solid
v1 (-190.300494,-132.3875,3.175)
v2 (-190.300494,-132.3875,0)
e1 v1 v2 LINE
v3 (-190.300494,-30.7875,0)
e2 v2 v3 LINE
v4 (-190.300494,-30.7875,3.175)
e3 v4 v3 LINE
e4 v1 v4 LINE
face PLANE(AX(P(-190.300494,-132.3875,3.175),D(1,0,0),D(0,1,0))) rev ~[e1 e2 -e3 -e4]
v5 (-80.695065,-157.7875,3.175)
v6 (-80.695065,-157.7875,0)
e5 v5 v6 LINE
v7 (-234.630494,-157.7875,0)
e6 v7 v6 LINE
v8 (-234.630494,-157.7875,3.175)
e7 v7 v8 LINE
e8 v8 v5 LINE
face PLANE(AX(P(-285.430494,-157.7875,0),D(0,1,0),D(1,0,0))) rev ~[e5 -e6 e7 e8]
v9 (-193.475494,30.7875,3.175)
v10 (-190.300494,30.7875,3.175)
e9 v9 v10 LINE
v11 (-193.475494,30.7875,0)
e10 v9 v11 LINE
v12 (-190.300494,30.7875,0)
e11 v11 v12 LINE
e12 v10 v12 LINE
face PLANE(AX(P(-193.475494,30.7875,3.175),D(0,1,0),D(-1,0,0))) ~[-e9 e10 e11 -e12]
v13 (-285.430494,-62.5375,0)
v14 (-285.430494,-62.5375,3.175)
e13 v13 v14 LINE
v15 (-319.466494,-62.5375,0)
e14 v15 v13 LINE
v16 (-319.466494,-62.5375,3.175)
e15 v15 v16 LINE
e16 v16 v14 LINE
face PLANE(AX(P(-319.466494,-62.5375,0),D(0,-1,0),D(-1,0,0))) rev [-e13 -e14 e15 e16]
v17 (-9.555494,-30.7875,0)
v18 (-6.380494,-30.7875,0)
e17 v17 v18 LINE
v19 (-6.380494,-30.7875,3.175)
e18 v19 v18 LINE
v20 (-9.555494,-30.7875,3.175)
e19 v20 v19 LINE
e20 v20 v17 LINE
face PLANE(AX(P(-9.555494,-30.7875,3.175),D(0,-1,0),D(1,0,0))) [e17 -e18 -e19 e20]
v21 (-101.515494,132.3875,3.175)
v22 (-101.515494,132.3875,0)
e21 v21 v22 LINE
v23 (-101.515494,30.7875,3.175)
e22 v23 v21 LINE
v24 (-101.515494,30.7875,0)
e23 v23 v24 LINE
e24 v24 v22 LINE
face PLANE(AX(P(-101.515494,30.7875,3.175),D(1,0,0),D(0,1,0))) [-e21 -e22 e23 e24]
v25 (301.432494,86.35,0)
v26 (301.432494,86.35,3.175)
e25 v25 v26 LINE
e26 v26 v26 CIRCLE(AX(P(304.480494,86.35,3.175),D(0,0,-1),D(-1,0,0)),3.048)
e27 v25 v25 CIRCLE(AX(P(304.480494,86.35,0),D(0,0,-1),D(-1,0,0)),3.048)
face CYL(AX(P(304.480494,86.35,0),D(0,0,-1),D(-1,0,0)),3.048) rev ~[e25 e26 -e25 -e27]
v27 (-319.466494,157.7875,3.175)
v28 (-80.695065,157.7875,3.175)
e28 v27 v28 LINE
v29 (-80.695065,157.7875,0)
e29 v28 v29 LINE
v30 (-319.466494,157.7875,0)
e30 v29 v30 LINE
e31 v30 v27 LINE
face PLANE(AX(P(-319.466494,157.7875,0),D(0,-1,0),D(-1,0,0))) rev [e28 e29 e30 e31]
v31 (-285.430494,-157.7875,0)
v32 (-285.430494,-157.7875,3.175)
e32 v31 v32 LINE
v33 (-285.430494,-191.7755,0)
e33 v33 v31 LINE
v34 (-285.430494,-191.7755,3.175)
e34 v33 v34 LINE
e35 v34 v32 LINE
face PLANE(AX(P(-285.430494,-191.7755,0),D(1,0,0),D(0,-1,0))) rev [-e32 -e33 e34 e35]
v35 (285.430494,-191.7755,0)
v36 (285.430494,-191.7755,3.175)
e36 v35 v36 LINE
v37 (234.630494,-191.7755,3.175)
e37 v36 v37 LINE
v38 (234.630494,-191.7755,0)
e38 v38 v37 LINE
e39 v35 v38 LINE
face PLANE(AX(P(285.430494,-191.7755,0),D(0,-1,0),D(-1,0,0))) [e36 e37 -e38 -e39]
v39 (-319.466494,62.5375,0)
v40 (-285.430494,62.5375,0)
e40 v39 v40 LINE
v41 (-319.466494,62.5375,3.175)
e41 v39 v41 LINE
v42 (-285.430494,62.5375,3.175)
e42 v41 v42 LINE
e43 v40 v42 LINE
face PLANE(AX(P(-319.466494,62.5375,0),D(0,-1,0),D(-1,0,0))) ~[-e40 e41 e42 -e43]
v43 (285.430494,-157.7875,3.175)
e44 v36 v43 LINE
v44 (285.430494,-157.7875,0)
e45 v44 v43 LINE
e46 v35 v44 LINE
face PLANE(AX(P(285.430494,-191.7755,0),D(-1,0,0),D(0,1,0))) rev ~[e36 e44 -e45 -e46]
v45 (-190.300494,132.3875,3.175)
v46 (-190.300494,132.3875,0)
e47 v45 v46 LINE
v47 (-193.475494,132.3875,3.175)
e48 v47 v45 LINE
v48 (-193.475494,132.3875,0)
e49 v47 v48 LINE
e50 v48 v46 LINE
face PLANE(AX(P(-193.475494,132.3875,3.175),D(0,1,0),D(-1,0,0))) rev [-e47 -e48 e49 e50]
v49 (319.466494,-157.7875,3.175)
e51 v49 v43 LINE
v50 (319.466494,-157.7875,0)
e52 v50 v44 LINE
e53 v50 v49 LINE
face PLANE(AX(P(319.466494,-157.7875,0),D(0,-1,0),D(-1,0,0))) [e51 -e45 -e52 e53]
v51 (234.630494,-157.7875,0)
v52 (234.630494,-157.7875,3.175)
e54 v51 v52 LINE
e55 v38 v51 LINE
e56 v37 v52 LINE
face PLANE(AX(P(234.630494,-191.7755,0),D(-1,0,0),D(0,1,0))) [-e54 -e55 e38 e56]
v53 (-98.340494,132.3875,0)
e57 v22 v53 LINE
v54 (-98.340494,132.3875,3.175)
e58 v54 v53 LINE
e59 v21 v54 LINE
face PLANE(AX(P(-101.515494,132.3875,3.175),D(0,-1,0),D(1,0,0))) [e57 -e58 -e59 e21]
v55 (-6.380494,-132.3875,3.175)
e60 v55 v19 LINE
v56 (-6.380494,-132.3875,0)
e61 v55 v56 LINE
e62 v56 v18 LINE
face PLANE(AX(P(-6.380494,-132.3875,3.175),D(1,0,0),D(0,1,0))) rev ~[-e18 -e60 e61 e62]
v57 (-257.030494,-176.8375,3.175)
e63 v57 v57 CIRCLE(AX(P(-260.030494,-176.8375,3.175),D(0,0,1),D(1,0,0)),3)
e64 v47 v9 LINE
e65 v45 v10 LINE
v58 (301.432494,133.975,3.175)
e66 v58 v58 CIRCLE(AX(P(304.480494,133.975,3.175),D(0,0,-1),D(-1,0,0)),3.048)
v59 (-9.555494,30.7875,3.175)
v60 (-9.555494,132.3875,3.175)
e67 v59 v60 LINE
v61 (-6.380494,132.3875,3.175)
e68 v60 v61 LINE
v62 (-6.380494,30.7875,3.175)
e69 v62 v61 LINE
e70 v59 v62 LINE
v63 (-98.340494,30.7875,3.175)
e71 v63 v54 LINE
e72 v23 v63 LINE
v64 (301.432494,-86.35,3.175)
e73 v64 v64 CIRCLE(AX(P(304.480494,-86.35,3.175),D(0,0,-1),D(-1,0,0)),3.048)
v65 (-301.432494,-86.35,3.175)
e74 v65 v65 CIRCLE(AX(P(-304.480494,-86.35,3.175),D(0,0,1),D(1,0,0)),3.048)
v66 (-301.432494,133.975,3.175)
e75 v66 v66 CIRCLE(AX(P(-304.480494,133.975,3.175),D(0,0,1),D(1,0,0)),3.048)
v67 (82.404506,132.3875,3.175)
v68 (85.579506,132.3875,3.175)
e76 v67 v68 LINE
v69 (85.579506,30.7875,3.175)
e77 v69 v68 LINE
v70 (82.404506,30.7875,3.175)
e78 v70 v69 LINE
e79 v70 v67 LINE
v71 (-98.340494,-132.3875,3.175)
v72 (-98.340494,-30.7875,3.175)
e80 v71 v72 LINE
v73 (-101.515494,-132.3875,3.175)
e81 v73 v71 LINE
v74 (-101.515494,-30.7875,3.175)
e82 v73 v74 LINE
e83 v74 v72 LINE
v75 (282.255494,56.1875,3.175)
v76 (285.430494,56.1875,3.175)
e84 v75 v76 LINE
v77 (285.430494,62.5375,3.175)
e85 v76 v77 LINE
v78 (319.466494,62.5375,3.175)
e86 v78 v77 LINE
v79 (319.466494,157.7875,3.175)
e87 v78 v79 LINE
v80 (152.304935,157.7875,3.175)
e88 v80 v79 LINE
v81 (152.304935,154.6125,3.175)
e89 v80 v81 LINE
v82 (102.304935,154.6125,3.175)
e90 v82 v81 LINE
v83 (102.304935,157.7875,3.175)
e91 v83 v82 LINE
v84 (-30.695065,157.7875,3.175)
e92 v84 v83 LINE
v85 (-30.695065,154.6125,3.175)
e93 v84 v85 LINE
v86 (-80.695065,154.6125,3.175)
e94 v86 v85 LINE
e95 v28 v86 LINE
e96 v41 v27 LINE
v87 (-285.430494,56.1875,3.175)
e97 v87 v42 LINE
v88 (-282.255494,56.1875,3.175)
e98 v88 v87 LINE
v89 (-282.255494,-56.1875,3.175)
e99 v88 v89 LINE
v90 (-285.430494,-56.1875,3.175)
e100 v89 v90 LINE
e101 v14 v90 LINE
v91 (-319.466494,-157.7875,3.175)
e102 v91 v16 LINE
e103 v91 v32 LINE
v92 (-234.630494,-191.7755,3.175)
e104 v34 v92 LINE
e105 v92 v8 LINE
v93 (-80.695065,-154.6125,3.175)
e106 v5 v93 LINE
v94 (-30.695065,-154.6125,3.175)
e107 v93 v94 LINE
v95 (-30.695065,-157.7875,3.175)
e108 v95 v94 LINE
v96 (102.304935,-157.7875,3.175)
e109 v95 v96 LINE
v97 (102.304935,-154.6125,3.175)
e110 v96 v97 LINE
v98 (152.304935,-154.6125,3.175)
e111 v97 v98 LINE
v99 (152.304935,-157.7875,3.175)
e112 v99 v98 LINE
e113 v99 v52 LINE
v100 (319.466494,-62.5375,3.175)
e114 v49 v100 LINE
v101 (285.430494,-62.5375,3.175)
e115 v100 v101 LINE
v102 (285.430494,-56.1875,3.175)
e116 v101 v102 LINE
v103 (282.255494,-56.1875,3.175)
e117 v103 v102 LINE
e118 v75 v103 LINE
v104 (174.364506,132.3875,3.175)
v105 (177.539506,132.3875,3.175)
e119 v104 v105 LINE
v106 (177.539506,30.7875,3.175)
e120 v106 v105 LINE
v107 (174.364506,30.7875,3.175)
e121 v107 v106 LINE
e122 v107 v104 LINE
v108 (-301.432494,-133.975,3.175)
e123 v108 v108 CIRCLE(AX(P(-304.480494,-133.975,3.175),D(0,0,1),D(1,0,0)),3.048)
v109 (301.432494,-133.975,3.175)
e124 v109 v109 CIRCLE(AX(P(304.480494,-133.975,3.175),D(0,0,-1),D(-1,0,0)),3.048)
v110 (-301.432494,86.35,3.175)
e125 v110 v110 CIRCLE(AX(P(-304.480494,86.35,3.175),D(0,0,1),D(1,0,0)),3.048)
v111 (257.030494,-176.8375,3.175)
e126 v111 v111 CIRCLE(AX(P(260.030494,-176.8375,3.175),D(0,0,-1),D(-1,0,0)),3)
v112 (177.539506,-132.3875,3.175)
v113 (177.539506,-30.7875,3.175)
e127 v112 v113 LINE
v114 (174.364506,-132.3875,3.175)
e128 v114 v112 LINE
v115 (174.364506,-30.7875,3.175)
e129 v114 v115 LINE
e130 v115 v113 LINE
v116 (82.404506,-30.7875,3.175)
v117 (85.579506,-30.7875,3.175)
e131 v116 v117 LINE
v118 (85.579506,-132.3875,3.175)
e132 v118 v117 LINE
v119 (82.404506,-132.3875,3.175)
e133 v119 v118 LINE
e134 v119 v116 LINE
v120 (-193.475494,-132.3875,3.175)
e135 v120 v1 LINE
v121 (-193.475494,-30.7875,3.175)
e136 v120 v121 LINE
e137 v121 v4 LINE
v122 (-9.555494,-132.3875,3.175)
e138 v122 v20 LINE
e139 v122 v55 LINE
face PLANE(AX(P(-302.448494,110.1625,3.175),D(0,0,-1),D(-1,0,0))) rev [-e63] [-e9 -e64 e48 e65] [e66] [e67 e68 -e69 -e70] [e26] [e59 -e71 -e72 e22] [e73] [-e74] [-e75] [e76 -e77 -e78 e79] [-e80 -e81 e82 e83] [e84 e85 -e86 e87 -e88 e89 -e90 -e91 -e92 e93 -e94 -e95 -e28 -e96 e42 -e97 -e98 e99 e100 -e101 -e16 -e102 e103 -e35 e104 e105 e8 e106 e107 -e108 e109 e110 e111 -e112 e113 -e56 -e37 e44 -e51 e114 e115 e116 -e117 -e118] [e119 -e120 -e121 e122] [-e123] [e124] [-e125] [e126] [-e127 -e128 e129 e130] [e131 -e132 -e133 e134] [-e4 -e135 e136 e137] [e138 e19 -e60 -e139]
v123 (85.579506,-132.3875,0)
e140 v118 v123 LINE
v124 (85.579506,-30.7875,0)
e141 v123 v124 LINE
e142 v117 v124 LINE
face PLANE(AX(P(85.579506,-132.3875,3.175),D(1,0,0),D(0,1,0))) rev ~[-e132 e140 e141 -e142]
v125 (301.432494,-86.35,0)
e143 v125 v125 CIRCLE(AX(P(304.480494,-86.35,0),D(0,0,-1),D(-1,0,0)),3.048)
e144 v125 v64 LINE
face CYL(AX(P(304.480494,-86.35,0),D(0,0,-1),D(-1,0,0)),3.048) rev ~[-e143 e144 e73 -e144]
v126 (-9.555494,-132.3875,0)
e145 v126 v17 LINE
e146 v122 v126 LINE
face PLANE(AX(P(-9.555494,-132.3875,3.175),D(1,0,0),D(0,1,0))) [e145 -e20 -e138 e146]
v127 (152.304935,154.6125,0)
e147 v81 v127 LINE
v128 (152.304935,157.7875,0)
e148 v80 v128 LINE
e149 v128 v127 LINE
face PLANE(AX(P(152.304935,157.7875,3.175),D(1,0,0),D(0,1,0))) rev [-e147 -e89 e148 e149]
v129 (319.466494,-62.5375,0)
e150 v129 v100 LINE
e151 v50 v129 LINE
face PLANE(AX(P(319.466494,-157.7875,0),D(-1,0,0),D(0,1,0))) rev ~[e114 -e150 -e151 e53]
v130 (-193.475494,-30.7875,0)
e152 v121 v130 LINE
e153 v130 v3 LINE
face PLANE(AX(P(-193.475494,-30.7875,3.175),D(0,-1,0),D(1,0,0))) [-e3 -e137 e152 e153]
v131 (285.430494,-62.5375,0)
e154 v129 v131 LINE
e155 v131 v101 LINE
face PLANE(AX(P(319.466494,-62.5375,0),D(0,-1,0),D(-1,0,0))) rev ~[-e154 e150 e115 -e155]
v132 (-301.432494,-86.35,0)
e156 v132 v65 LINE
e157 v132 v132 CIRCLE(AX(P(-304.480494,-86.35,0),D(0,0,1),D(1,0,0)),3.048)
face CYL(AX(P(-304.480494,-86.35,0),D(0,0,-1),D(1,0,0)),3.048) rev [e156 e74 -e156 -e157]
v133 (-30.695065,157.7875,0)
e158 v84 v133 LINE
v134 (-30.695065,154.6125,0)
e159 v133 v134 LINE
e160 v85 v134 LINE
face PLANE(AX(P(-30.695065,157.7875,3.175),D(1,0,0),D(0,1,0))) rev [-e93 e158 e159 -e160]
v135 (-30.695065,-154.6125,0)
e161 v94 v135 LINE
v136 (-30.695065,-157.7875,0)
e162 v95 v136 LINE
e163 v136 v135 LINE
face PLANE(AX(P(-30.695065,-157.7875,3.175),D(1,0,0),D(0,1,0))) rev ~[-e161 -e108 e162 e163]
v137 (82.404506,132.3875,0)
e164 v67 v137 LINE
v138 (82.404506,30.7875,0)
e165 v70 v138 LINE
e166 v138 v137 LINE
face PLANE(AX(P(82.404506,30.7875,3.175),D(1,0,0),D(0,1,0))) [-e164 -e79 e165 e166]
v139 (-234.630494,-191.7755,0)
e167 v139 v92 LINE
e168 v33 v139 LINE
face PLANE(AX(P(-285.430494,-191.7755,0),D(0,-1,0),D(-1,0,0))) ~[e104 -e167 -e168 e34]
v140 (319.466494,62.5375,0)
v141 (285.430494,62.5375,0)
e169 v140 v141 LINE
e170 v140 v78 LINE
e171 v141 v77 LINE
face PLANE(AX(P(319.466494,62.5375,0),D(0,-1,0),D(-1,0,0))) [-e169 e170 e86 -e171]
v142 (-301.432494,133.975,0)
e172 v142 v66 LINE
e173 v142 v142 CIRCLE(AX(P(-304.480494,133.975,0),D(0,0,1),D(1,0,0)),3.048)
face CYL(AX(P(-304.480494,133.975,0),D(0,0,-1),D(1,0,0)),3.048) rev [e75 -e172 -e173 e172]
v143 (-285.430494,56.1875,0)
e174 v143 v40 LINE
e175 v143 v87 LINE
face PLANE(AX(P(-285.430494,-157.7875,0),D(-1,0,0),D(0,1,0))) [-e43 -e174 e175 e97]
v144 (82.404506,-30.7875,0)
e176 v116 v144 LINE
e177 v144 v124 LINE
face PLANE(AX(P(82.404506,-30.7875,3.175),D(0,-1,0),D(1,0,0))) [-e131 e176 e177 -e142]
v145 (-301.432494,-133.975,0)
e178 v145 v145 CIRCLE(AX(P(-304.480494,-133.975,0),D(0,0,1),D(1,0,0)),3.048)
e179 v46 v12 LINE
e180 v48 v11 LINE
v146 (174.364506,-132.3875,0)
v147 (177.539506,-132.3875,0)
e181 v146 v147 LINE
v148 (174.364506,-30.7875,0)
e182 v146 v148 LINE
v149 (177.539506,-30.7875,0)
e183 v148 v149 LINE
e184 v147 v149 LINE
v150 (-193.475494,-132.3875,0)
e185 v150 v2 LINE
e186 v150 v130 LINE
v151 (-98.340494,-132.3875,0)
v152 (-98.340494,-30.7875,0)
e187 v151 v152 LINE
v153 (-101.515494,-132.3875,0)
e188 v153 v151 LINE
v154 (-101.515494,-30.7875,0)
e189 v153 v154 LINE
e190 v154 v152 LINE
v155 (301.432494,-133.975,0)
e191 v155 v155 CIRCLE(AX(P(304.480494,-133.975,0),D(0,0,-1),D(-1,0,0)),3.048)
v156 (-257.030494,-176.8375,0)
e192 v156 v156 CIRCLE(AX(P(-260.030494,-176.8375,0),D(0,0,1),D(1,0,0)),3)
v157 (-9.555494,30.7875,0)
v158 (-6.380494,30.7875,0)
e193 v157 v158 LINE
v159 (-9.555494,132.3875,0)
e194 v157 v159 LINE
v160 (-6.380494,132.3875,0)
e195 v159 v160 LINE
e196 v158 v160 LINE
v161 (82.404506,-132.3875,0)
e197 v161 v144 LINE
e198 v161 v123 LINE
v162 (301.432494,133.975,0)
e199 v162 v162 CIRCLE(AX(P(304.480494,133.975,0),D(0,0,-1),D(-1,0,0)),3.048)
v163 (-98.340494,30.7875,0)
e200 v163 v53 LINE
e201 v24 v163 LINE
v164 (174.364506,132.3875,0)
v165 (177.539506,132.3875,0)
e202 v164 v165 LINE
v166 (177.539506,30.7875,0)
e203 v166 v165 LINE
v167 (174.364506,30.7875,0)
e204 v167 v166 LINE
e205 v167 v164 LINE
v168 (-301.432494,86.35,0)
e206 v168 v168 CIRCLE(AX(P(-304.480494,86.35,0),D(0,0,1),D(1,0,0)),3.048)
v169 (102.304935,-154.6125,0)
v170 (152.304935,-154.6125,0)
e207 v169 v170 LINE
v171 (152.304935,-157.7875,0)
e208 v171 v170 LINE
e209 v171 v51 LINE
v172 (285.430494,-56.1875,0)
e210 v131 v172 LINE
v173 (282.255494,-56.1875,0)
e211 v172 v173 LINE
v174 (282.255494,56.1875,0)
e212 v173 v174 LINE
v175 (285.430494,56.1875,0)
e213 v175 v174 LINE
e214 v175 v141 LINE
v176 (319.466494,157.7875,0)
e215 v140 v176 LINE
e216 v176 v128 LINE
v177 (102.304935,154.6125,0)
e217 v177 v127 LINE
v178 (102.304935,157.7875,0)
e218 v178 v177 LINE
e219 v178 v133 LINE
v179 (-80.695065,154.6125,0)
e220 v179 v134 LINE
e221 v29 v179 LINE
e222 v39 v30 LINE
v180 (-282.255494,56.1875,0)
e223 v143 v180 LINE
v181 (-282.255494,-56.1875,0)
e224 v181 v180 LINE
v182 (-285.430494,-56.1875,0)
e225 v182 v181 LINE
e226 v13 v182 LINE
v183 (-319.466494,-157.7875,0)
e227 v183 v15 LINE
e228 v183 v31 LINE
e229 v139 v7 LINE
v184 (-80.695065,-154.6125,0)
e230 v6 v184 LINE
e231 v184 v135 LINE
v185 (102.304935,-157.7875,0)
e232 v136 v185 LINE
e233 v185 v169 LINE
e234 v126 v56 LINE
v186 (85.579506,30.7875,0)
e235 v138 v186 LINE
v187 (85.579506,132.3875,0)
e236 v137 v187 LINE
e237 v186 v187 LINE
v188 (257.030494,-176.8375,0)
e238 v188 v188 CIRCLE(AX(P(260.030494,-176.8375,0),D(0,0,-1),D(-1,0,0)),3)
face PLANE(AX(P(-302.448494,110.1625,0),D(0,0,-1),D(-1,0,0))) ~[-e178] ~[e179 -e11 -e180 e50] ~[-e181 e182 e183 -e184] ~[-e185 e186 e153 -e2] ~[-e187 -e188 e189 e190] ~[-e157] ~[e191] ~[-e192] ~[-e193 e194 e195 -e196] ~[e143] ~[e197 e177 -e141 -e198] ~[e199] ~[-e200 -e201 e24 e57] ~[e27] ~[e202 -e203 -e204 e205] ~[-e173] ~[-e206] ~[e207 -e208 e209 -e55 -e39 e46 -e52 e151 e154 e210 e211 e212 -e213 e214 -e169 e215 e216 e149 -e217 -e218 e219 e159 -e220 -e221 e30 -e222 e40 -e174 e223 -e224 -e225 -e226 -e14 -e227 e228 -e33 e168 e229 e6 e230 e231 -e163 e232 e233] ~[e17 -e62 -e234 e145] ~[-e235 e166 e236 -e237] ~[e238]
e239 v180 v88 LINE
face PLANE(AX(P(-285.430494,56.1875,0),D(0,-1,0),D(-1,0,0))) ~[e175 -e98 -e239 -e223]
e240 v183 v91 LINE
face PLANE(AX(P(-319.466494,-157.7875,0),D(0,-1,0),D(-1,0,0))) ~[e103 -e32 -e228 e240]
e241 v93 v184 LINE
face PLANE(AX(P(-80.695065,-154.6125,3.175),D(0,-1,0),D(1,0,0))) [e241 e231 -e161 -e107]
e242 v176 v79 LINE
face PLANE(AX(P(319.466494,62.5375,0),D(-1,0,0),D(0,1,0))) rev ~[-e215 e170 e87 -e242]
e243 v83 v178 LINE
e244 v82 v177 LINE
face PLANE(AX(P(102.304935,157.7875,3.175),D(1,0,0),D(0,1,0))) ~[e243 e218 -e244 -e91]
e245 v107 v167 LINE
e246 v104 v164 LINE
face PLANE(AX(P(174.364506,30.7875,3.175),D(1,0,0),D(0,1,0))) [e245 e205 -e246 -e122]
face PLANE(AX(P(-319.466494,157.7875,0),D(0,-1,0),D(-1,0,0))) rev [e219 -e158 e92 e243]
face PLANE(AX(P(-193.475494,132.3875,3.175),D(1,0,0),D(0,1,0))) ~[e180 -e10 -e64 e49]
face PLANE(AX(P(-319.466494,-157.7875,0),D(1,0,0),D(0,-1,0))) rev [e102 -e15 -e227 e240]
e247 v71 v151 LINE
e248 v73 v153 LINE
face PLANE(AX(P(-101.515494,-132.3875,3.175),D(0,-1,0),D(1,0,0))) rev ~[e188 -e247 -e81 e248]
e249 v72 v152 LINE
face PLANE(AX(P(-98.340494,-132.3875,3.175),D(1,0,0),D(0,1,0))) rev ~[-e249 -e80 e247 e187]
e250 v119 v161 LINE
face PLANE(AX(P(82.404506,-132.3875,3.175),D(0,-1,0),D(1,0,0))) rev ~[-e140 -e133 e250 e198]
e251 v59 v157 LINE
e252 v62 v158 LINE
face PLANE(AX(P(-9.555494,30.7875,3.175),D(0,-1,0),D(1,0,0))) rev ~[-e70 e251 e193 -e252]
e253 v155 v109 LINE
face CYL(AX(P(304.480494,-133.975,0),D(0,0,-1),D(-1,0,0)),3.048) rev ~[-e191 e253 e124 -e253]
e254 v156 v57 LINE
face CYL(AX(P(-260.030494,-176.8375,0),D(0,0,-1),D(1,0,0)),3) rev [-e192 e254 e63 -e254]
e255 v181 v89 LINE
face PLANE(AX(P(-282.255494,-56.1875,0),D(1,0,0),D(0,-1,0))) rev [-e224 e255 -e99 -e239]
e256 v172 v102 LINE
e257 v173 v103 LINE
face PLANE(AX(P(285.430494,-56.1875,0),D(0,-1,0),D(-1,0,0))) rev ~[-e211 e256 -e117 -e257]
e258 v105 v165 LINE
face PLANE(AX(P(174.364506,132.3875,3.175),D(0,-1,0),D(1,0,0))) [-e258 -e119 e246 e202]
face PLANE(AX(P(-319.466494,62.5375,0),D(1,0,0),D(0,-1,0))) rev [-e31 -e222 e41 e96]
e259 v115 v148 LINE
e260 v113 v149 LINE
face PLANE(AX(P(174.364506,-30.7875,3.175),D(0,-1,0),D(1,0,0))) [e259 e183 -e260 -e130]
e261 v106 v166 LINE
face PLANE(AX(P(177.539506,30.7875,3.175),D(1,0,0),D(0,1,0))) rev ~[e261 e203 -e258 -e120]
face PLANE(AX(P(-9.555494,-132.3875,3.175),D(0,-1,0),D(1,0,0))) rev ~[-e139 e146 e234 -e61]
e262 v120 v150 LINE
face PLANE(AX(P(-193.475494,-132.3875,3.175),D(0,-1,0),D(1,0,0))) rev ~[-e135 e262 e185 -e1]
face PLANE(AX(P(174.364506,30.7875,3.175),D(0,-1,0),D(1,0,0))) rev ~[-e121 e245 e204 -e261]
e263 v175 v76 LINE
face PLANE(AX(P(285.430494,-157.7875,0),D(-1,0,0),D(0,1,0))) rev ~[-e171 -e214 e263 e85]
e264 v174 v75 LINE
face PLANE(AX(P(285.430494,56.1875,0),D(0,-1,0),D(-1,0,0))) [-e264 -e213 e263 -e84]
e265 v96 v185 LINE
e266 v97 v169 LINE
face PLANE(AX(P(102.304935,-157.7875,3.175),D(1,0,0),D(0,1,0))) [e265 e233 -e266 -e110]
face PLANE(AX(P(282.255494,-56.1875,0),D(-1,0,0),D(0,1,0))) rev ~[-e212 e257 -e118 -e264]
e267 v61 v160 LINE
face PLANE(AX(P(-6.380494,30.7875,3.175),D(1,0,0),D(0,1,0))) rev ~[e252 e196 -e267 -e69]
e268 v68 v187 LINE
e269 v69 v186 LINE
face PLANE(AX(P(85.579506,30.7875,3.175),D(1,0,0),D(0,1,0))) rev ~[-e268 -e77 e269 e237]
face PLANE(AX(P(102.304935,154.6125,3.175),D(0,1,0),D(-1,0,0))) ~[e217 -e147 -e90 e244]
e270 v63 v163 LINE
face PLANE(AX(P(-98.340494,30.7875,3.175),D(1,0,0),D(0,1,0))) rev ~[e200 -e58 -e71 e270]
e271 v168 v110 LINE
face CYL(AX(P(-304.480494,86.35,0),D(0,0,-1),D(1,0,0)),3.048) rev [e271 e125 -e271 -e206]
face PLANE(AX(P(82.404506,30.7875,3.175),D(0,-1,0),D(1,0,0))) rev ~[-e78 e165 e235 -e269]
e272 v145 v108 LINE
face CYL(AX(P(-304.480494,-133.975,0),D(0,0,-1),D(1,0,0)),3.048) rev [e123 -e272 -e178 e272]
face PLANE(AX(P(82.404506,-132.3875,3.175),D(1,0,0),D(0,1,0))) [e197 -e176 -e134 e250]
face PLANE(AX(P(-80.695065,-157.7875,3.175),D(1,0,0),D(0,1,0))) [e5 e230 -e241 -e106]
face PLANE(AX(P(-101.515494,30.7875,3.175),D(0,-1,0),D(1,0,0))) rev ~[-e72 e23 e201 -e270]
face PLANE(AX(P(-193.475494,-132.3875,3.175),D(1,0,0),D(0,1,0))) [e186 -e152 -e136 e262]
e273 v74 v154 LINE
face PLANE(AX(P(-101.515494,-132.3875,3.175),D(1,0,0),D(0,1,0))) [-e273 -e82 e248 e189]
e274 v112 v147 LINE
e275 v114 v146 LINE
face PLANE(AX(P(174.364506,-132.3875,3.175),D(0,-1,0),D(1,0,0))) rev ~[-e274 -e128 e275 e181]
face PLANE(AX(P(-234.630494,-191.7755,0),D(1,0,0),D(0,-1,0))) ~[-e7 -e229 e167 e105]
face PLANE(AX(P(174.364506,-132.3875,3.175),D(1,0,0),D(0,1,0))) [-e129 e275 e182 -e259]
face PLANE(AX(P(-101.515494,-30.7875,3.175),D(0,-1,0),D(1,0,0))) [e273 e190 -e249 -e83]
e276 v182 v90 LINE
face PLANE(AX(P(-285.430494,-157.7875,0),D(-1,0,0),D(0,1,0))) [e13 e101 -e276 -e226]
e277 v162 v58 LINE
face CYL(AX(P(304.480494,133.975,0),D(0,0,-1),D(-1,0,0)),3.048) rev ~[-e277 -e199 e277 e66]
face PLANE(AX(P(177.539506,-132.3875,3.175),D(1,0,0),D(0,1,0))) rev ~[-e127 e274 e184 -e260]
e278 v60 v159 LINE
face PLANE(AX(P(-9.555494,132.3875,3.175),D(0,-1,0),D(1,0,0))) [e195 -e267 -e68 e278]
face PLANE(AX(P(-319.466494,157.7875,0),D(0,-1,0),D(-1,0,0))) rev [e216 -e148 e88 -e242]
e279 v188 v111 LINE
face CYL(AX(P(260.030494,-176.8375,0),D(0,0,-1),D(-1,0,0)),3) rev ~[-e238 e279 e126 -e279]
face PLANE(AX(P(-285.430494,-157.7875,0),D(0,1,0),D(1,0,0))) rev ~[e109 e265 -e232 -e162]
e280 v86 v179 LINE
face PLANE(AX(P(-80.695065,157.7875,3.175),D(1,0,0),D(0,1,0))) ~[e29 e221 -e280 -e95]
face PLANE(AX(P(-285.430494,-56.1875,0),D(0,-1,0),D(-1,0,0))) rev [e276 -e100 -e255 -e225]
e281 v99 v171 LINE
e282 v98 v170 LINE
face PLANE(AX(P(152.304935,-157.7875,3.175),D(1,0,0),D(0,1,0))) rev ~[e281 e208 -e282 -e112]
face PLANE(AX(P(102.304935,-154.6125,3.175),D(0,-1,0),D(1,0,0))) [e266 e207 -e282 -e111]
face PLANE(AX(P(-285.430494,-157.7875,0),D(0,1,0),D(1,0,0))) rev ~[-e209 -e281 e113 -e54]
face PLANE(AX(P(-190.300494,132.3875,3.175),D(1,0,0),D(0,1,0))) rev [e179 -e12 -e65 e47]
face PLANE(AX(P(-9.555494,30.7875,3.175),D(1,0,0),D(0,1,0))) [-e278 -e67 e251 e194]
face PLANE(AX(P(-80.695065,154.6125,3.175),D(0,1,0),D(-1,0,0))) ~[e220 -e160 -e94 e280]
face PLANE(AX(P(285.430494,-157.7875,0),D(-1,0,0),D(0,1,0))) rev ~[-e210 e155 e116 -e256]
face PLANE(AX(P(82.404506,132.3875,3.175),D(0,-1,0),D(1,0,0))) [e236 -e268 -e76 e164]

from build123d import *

# Parameters (mm, degrees)
SKETCH1_W                 = 570.860988324
SKETCH1_H                 = 315.575
BOSS_EXTRUDE1_DEPTH       = 3.175
SKETCH2_W                 = 3.175
SKETCH2_H                 = 101.6
CUT_EXTRUDE1_DEPTH        = 3.175
SKETCH7_W                 = 50
SKETCH7_H                 = 3.175
CUT_EXTRUDE5_DEPTH        = 3.175
LPATTERN2_COUNT           = 5
LPATTERN2_PITCH           = 91.96
LPATTERN2_COPY_1_SKETCH_W = 3.175
LPATTERN2_COPY_1_SKETCH_H = 101.6
LPATTERN2_COPY_1_DEPTH    = 3.175
LPATTERN2_COPY_2_SKETCH_W = 3.175
LPATTERN2_COPY_2_SKETCH_H = 101.6
LPATTERN2_COPY_2_DEPTH    = 3.175
LPATTERN2_COPY_3_SKETCH_W = 3.175
LPATTERN2_COPY_3_SKETCH_H = 101.6
LPATTERN2_COPY_3_DEPTH    = 3.175
LPATTERN2_COPY_4_SKETCH_W = 3.175
LPATTERN2_COPY_4_SKETCH_H = 101.6
LPATTERN2_COPY_4_DEPTH    = 3.175
SKETCH9_W                 = 34.036
SKETCH9_H                 = 95.25
SKETCH9_R                 = 3.048
SKETCH9_W_2               = 50.8
SKETCH9_H_2               = 33.988
SKETCH9_R_2               = 3
BOSS_EXTRUDE3_DEPTH       = 3.175
SKETCH10_W                = 3.175
SKETCH10_H                = 112.375
CUT_EXTRUDE6_DEPTH        = 373.621475384


with BuildPart() as part:
    # Sketch1 → Boss-Extrude1 (new body)
    with BuildSketch(Plane.XY):
        Rectangle(SKETCH1_W, SKETCH1_H)
    extrude(amount=BOSS_EXTRUDE1_DEPTH)

    # Sketch2 → Cut-Extrude1 (cut)
    with BuildSketch(Plane.XY.offset(3.175)):
        with Locations((-191.887994162, -81.5875)):
            Rectangle(SKETCH2_W, SKETCH2_H)
    cut_extrude1 = extrude(amount=-CUT_EXTRUDE1_DEPTH, mode=Mode.SUBTRACT)

    # Sketch7 → Cut-Extrude5 (cut)
    with BuildSketch(Plane.XY.offset(3.175)):
        with Locations((127.304934912, -156.2)):
            Rectangle(SKETCH7_W, SKETCH7_H)
        with Locations((-55.695065088, -156.2)):
            Rectangle(SKETCH7_W, SKETCH7_H)
    cut_extrude5 = extrude(amount=-CUT_EXTRUDE5_DEPTH, mode=Mode.SUBTRACT)

    # Mirror3: Cut-Extrude1 across plane
    add(cut_extrude1.mirror(Plane.ZX), mode=Mode.SUBTRACT)

    # LPattern2: Cut-Extrude1 ×5
    with Locations(*[(i * LPATTERN2_PITCH, 0, 0) for i in range(1, LPATTERN2_COUNT)]):
        add(cut_extrude1, mode=Mode.SUBTRACT)

    # LPattern2 copy 1 sketch → LPattern2 copy 1 (cut)
    with BuildSketch(Plane(origin=(91.96, 0, 3.175), x_dir=(1, 0, 0), z_dir=(0, 0, 1))):
        with Locations((-191.887994162, 81.5875)):
            Rectangle(LPATTERN2_COPY_1_SKETCH_W, LPATTERN2_COPY_1_SKETCH_H)
    extrude(amount=-LPATTERN2_COPY_1_DEPTH, mode=Mode.SUBTRACT)

    # LPattern2 copy 2 sketch → LPattern2 copy 2 (cut)
    with BuildSketch(Plane(origin=(183.92, 0, 3.175), x_dir=(1, 0, 0), z_dir=(0, 0, 1))):
        with Locations((-191.887994162, 81.5875)):
            Rectangle(LPATTERN2_COPY_2_SKETCH_W, LPATTERN2_COPY_2_SKETCH_H)
    extrude(amount=-LPATTERN2_COPY_2_DEPTH, mode=Mode.SUBTRACT)

    # LPattern2 copy 3 sketch → LPattern2 copy 3 (cut)
    with BuildSketch(Plane(origin=(275.88, 0, 3.175), x_dir=(1, 0, 0), z_dir=(0, 0, 1))):
        with Locations((-191.887994162, 81.5875)):
            Rectangle(LPATTERN2_COPY_3_SKETCH_W, LPATTERN2_COPY_3_SKETCH_H)
    extrude(amount=-LPATTERN2_COPY_3_DEPTH, mode=Mode.SUBTRACT)

    # LPattern2 copy 4 sketch → LPattern2 copy 4 (cut)
    with BuildSketch(Plane(origin=(367.84, 0, 3.175), x_dir=(1, 0, 0), z_dir=(0, 0, 1))):
        with Locations((-191.887994162, 81.5875)):
            Rectangle(LPATTERN2_COPY_4_SKETCH_W, LPATTERN2_COPY_4_SKETCH_H)
    extrude(amount=-LPATTERN2_COPY_4_DEPTH, mode=Mode.SUBTRACT)

    # Sketch9 → Boss-Extrude3 (add)
    # profile 1 of 3: a face of its own
    with BuildSketch(Plane(origin=(0, 0, 0), x_dir=(-1, 0, 0), z_dir=(0, 0, -1))):
        with Locations((-302.448494162, 110.1625)):
            Rectangle(SKETCH9_W, SKETCH9_H)
        with Locations((-304.480494162, 86.35)):
            Circle(SKETCH9_R, mode=Mode.SUBTRACT)
        with Locations((-304.480494162, 133.975)):
            Circle(SKETCH9_R, mode=Mode.SUBTRACT)
    # profile 2 of 3: a face of its own
    with BuildSketch(Plane(origin=(0, 0, 0), x_dir=(-1, 0, 0), z_dir=(0, 0, -1))):
        with Locations((-302.448494162, -110.1625)):
            Rectangle(SKETCH9_W, SKETCH9_H)
        with Locations((-304.480494162, -133.975)):
            Circle(SKETCH9_R, mode=Mode.SUBTRACT)
        with Locations((-304.480494162, -86.35)):
            Circle(SKETCH9_R, mode=Mode.SUBTRACT)
    # profile 3 of 3: a face of its own
    with BuildSketch(Plane(origin=(0, 0, 0), x_dir=(-1, 0, 0), z_dir=(0, 0, -1))):
        with Locations((-260.030494162, -174.7815)):
            Rectangle(SKETCH9_W_2, SKETCH9_H_2)
        with Locations((-260.030494162, -176.8375)):
            Circle(SKETCH9_R_2, mode=Mode.SUBTRACT)
    boss_extrude3 = extrude(amount=-BOSS_EXTRUDE3_DEPTH)

    # Mirror4: Boss-Extrude3 across plane
    add(boss_extrude3.mirror(Plane(origin=(0, 0, 0), x_dir=(0, 0, 1), z_dir=(1, 0, 0))))

    # Mirror5: Cut-Extrude5 across plane
    add(cut_extrude5.mirror(Plane.ZX), mode=Mode.SUBTRACT)

    # Sketch10 → Cut-Extrude6 (cut, through all)
    with BuildSketch(Plane(origin=(0, 0, 0), x_dir=(-1, 0, 0), z_dir=(0, 0, -1))):
        with Locations((-283.842994162, 0)):
            Rectangle(SKETCH10_W, SKETCH10_H)
    cut_extrude6 = extrude(amount=-CUT_EXTRUDE6_DEPTH, mode=Mode.SUBTRACT)

    # Mirror6: Cut-Extrude6 across plane
    add(cut_extrude6.mirror(Plane(origin=(0, 0, 0), x_dir=(0, 0, 1), z_dir=(1, 0, 0))), mode=Mode.SUBTRACT)


solid = part.part
